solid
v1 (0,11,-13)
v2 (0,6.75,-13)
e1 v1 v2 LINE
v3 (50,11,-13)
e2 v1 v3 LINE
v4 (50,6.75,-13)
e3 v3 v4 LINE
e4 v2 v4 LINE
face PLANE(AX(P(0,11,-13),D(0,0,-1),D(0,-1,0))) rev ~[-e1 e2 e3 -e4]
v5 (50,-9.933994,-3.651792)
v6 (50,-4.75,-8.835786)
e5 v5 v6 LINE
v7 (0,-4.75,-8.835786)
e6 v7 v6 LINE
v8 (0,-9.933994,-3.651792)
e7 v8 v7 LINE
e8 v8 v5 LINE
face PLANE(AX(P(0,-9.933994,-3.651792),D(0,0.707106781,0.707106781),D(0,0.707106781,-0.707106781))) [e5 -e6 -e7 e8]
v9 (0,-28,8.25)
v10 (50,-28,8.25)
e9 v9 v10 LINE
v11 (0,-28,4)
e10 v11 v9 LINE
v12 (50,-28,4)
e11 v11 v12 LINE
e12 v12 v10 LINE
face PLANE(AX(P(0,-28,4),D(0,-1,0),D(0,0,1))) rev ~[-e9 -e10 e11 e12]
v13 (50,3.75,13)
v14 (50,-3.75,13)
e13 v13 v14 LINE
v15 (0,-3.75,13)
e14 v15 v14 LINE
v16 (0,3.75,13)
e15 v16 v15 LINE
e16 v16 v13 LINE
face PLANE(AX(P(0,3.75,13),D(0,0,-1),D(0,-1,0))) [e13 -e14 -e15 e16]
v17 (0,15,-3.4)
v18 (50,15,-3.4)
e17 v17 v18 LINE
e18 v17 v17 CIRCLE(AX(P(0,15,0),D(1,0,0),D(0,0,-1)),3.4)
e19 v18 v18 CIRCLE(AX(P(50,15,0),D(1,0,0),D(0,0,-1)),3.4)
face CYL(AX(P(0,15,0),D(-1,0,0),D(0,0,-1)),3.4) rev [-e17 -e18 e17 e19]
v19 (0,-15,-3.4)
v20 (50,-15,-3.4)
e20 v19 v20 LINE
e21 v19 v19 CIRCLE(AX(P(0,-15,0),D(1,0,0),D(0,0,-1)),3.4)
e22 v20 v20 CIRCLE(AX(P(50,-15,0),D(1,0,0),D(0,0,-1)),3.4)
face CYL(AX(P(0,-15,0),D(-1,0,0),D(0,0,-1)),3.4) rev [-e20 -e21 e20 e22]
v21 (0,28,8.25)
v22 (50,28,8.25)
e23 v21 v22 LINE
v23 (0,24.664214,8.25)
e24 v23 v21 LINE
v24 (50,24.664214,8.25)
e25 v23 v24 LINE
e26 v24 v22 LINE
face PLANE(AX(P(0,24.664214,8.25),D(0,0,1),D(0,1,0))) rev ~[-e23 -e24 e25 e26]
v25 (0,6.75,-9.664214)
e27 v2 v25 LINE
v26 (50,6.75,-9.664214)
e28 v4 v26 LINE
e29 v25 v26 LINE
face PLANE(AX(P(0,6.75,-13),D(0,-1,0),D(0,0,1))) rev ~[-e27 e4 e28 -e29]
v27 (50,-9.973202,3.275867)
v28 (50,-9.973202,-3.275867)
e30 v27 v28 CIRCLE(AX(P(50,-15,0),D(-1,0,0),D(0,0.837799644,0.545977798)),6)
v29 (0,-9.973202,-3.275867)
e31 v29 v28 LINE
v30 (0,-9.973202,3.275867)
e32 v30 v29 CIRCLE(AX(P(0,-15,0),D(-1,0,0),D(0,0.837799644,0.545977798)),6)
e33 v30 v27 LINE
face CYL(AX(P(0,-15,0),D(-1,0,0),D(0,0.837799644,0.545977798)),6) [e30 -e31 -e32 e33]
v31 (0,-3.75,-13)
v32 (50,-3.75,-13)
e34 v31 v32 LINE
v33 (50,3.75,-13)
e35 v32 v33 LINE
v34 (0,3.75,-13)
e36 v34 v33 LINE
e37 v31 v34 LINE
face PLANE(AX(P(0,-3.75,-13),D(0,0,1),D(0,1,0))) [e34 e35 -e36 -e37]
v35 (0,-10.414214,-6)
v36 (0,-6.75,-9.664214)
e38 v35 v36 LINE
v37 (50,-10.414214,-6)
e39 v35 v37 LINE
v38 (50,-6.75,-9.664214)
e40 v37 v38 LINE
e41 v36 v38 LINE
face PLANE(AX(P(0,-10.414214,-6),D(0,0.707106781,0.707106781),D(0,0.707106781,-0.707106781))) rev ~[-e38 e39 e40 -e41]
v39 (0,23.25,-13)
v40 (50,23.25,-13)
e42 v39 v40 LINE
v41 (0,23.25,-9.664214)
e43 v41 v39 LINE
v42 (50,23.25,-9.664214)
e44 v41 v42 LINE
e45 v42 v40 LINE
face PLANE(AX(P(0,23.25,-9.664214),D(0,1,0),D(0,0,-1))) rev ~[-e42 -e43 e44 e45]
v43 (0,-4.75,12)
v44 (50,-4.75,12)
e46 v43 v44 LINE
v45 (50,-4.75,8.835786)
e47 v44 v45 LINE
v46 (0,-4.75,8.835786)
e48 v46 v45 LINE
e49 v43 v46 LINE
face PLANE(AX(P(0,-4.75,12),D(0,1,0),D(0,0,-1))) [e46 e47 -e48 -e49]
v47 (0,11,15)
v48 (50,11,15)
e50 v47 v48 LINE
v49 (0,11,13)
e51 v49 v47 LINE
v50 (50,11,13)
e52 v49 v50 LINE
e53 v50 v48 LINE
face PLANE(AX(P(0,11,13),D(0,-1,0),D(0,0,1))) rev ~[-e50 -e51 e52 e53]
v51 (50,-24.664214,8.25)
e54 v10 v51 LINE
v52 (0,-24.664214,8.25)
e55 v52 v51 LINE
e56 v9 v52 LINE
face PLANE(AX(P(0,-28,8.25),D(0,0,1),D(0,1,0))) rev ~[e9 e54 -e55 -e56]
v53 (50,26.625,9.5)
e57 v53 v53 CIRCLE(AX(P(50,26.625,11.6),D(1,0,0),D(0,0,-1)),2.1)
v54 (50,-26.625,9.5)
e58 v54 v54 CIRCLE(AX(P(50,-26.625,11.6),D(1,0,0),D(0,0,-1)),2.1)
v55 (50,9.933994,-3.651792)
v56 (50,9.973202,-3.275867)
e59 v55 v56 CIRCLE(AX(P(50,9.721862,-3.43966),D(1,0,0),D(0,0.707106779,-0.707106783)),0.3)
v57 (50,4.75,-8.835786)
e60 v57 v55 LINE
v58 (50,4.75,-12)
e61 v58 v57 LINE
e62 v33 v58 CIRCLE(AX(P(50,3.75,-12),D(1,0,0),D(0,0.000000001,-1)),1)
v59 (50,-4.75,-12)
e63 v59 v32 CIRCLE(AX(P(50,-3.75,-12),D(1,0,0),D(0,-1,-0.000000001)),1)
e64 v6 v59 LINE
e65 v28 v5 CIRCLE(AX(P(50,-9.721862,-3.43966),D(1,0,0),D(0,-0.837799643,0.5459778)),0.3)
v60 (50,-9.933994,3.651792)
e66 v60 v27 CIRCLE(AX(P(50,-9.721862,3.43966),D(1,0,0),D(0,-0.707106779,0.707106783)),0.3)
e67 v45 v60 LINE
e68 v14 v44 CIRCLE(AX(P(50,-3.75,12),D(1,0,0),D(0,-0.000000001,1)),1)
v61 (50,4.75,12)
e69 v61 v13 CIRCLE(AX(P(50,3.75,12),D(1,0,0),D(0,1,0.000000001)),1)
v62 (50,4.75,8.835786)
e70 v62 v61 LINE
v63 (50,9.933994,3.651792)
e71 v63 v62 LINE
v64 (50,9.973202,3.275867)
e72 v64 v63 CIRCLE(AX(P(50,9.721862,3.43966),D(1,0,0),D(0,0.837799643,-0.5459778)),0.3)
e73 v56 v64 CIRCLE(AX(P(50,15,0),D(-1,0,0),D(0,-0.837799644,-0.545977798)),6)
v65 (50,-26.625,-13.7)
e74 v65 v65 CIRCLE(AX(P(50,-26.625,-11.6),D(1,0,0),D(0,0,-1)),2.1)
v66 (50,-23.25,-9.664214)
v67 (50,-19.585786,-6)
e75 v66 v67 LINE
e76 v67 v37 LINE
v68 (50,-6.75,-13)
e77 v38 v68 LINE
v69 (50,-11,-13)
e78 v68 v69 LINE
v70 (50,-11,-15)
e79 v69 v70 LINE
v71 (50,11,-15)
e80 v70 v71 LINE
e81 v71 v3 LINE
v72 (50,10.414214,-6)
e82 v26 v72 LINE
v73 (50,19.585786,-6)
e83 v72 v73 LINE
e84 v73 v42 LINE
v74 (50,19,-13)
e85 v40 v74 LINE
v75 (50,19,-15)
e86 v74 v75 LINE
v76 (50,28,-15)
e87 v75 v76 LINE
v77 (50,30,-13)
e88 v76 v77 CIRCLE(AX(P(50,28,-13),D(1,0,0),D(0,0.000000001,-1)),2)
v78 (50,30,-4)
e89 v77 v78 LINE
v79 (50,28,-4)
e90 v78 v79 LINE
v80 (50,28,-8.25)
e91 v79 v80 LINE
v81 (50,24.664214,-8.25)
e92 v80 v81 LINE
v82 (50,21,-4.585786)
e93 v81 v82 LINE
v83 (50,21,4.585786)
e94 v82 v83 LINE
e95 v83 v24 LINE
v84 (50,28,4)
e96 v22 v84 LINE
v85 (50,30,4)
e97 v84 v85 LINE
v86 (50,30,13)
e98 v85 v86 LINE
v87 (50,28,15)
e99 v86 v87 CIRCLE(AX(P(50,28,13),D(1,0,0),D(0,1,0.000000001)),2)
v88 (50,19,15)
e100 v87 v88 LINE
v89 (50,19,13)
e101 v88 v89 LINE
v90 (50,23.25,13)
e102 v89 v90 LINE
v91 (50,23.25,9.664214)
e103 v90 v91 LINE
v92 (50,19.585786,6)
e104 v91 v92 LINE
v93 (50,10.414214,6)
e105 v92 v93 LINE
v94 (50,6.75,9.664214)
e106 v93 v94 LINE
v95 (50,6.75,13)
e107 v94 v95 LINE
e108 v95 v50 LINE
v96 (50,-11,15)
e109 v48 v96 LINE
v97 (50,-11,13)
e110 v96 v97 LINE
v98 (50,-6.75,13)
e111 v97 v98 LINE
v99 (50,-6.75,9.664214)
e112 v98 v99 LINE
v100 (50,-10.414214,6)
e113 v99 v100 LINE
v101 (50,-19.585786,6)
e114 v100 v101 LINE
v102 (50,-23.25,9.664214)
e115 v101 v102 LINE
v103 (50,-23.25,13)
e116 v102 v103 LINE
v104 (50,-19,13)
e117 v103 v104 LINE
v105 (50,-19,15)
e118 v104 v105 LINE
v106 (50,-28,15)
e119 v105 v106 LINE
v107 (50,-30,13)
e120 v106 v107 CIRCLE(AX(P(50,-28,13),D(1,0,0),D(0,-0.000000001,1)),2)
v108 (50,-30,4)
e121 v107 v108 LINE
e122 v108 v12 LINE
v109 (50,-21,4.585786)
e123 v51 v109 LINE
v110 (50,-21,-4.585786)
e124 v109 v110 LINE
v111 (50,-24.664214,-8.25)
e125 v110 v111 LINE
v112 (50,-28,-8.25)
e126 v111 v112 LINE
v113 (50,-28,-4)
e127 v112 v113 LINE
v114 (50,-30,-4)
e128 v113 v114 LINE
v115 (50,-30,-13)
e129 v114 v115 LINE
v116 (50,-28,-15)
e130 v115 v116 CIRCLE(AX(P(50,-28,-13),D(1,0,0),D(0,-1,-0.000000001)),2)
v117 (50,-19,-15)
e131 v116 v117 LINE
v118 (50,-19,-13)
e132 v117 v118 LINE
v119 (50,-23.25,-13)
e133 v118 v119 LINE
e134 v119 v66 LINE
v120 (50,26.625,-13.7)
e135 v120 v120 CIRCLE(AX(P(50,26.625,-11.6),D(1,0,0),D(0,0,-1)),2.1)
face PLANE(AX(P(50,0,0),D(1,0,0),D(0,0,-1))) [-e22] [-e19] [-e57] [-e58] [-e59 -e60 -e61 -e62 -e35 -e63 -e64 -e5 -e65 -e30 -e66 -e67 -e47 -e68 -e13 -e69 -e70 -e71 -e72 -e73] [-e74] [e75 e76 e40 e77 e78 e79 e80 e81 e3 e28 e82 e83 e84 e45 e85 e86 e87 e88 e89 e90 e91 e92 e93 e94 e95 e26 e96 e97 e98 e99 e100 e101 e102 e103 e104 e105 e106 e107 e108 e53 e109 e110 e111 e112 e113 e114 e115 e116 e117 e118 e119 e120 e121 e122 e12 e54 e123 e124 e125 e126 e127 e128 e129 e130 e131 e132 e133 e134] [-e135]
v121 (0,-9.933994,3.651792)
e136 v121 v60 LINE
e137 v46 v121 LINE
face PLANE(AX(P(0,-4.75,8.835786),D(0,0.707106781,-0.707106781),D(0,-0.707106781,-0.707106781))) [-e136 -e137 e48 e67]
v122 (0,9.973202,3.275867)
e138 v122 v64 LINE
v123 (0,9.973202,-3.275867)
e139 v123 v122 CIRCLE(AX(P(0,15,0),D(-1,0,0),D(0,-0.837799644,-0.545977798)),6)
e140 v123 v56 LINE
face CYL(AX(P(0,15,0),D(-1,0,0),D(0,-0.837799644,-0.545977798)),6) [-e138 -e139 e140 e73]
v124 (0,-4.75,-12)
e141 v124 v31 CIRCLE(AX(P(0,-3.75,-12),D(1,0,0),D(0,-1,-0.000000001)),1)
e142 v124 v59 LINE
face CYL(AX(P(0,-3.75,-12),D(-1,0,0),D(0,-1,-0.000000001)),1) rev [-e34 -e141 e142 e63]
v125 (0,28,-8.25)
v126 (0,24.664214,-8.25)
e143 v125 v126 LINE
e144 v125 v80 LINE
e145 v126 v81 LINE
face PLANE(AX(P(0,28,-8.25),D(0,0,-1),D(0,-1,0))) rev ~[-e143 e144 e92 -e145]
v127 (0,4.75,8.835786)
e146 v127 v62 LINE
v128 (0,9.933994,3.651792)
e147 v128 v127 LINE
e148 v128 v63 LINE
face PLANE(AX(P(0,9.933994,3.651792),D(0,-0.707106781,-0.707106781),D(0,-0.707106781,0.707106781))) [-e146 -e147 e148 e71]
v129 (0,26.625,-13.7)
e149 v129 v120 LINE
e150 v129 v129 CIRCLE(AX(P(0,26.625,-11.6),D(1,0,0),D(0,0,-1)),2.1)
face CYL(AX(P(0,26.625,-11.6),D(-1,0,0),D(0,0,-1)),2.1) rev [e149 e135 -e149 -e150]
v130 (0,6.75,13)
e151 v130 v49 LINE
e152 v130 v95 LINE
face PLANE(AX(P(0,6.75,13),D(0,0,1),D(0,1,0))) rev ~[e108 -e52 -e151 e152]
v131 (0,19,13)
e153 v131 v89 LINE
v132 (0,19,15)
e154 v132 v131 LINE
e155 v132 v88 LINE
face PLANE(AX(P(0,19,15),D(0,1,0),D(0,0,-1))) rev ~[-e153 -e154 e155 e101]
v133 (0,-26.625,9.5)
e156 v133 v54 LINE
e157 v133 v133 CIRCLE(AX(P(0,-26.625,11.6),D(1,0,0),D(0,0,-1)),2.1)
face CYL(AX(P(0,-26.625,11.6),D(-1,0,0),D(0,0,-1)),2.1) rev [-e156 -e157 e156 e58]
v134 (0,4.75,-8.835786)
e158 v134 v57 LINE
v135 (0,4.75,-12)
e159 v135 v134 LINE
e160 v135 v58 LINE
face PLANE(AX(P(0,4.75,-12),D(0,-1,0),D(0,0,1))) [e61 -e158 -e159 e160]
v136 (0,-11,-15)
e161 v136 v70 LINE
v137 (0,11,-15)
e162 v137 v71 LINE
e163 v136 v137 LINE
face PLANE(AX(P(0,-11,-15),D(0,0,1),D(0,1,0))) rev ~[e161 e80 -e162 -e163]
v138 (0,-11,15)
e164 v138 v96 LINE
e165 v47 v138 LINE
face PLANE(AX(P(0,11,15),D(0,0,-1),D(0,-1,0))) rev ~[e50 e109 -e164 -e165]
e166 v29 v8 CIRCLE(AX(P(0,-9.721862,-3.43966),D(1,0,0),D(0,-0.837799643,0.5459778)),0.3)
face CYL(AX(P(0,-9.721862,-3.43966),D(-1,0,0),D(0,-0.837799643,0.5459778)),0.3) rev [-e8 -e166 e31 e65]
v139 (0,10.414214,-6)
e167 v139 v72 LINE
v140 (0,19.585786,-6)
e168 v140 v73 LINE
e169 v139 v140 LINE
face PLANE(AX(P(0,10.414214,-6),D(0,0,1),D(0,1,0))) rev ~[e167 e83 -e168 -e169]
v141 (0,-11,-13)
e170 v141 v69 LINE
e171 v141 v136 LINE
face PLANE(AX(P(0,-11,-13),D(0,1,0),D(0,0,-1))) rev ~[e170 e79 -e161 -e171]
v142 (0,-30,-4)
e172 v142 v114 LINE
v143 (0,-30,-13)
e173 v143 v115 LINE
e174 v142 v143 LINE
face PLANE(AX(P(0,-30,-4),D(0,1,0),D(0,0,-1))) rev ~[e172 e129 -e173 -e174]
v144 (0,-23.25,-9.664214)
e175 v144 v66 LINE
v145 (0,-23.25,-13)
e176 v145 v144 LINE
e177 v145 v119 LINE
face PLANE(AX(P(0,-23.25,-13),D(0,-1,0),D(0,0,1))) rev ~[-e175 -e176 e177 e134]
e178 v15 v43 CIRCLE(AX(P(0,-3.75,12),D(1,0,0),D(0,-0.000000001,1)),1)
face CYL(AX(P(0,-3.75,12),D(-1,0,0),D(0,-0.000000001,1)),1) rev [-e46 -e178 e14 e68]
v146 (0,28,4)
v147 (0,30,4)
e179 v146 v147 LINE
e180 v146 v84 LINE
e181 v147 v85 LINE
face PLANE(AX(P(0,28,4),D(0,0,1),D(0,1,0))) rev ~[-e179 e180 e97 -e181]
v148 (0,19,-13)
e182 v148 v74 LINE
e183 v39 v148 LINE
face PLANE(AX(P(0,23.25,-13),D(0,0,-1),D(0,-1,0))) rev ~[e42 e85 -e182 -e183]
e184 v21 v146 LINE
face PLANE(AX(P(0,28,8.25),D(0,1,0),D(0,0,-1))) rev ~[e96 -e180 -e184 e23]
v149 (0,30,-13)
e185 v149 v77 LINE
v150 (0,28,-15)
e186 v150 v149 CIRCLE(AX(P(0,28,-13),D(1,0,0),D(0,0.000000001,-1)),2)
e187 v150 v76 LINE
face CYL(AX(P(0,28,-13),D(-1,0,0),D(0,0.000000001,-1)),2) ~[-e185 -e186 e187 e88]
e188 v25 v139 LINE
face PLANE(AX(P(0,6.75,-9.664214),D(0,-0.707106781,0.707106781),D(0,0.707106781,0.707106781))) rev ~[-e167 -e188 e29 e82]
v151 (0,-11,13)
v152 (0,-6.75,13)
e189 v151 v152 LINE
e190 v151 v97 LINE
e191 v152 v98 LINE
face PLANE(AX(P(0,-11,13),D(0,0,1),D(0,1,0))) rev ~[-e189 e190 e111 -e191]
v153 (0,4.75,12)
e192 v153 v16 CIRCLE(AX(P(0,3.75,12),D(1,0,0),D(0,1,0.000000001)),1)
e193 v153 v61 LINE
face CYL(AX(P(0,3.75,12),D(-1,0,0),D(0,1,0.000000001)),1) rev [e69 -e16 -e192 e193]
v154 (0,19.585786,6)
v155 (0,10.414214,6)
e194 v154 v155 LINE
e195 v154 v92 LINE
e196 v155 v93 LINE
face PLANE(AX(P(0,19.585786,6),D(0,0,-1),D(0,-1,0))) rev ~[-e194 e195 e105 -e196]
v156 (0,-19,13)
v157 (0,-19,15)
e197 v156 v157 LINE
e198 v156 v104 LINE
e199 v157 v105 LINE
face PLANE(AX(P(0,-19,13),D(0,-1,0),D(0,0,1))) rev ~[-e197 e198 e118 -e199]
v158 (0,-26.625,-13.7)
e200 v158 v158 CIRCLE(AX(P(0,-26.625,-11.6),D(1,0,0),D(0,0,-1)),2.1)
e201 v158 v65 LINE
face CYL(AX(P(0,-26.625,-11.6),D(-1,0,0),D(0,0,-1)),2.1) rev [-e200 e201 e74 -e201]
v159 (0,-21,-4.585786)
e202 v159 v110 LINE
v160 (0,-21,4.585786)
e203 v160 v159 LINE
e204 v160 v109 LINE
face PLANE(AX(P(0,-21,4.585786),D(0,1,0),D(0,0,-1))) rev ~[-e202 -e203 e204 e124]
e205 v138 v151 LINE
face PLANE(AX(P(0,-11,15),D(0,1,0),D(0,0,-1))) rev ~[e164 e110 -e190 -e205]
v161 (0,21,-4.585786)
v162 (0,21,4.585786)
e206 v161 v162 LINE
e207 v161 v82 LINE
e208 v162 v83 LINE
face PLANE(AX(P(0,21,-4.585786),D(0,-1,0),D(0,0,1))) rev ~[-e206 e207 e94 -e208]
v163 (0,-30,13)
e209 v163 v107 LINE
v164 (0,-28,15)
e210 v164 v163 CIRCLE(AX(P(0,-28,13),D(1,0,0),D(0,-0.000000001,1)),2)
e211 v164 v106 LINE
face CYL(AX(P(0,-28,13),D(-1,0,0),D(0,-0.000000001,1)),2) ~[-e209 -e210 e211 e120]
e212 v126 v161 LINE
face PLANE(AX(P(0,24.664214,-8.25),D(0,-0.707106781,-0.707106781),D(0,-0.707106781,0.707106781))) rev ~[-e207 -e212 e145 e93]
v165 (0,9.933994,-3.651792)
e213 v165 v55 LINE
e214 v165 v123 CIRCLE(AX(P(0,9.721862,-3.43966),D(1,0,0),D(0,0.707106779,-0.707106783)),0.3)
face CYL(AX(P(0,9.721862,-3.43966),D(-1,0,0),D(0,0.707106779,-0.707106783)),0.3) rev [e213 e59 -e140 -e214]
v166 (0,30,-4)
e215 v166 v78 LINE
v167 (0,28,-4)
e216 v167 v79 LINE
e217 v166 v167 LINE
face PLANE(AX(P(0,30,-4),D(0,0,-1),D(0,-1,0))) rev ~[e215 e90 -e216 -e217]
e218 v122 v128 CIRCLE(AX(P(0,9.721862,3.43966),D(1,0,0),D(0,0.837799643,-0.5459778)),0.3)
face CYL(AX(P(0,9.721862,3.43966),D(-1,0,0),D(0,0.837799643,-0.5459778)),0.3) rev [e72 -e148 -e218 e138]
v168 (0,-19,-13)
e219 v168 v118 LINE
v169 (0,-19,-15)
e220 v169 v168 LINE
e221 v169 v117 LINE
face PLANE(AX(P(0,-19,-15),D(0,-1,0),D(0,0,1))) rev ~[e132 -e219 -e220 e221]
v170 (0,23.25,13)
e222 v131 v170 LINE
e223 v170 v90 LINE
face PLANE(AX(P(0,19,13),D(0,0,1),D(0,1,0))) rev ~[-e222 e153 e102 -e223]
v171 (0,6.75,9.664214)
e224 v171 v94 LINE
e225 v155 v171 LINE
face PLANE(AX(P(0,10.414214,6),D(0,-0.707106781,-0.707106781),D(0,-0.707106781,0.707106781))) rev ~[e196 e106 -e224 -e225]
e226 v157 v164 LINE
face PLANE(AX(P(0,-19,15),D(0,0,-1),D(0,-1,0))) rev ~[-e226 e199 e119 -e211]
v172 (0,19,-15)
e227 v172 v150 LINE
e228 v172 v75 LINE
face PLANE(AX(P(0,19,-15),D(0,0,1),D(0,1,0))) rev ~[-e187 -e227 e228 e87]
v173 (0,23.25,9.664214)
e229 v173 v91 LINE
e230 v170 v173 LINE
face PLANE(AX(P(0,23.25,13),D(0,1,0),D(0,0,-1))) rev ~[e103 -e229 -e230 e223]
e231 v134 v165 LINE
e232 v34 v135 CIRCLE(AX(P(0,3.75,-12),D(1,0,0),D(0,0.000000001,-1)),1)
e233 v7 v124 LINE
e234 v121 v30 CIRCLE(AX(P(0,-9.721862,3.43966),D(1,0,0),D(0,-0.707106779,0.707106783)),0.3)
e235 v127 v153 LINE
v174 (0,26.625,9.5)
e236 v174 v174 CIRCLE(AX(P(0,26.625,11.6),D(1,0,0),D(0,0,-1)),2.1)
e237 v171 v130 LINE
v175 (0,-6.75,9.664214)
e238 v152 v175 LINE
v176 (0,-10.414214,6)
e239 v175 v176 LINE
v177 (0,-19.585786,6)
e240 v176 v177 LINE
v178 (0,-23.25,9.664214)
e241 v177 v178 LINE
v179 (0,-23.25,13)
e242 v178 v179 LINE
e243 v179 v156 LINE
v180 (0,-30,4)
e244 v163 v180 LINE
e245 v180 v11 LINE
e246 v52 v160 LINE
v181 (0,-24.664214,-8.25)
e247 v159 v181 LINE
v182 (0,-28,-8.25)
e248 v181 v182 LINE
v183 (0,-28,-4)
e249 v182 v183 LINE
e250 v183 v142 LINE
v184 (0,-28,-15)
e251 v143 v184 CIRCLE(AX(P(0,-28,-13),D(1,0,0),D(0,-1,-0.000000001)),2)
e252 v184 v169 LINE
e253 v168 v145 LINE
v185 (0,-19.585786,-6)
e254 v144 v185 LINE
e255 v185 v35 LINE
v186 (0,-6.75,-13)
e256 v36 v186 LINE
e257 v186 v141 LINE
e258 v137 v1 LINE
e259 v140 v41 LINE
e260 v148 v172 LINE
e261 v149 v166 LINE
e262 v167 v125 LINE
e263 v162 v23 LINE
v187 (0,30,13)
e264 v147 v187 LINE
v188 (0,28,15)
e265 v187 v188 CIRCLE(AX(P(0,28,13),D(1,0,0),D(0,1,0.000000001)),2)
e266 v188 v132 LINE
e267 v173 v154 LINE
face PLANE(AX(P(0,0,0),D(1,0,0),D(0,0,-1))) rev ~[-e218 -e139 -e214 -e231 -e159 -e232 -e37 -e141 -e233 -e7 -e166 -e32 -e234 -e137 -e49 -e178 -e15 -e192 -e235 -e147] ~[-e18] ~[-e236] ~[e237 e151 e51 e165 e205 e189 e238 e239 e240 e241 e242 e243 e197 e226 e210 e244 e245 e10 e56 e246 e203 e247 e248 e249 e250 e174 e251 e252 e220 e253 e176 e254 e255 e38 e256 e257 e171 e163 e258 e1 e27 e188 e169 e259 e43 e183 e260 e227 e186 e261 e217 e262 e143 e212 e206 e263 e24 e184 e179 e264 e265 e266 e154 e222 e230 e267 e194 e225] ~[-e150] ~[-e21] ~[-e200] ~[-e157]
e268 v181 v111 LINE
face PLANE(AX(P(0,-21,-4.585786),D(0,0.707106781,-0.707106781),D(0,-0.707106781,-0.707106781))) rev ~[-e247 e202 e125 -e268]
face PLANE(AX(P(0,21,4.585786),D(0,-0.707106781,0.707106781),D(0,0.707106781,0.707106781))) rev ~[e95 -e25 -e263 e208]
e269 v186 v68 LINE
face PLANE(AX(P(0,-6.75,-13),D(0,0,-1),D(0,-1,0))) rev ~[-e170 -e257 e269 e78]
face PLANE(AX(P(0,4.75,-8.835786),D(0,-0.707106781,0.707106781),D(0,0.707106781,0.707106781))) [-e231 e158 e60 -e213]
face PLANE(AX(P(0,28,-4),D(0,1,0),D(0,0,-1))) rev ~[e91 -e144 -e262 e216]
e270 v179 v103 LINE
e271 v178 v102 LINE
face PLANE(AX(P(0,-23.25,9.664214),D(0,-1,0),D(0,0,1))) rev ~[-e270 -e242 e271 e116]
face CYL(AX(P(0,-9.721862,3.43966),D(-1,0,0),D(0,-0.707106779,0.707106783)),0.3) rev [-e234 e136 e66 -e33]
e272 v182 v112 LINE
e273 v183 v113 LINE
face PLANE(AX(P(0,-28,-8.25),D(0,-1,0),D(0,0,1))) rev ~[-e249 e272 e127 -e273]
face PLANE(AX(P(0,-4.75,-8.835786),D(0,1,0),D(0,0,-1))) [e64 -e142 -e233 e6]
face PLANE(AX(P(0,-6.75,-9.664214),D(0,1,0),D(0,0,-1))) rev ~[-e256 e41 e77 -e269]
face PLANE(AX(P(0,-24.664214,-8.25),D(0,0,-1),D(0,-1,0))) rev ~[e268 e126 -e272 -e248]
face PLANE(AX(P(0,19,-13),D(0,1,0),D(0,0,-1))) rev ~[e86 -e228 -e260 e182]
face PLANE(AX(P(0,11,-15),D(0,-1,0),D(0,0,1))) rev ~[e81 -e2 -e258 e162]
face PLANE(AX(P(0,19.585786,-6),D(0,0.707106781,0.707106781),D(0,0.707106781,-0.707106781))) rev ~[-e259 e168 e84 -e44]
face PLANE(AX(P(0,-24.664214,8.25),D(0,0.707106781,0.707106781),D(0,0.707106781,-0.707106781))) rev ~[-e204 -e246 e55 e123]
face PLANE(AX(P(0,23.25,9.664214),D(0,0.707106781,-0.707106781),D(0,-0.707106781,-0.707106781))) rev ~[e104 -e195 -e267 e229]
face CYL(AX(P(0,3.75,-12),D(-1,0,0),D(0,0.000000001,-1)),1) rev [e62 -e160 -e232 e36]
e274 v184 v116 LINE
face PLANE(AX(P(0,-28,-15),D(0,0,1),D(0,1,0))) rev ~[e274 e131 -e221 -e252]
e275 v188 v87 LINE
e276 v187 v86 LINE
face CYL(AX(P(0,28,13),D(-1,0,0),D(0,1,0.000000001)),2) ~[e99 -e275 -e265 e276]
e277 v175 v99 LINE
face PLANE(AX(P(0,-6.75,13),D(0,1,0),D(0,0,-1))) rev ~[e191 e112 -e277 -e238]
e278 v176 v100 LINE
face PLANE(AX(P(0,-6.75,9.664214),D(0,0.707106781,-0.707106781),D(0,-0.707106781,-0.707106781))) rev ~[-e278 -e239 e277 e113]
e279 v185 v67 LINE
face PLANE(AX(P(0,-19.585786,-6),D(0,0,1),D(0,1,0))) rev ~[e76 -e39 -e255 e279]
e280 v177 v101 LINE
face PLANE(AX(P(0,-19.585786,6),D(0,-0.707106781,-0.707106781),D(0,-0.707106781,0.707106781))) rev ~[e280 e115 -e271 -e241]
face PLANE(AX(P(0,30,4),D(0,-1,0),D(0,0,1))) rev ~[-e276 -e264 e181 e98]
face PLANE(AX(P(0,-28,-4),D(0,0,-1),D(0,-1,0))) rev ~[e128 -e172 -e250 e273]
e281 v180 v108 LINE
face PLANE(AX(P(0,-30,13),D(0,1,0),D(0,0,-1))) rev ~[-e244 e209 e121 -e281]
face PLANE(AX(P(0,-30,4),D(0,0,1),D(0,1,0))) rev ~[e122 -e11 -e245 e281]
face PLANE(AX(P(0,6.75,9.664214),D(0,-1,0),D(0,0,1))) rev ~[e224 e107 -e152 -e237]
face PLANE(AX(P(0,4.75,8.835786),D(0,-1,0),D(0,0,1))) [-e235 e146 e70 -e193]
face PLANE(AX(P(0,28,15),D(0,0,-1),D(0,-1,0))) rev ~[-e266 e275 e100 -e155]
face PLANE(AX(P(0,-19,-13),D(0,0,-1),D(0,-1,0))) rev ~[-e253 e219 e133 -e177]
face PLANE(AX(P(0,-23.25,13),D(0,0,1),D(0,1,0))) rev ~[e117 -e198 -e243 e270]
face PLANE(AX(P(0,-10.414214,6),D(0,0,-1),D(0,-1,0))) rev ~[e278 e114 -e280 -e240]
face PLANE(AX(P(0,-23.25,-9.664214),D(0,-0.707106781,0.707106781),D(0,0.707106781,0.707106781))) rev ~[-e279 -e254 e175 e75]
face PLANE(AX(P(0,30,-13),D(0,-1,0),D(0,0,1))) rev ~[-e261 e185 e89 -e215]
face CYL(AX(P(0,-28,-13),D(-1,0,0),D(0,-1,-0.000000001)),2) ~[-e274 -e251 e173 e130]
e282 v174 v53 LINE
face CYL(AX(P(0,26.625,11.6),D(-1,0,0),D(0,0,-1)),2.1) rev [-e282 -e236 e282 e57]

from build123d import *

# Parameters (mm, degrees)
SKETCH1_R           = 2.1
SKETCH1_R_2         = 3.4
BOSS_EXTRUDE1_DEPTH = 50


with BuildPart() as part:
    # Sketch1 → Boss-Extrude1 (new body)
    with BuildSketch(Plane(origin=(0, 0, 0), x_dir=(0, 0, -1), z_dir=(1, 0, 0))):
        with BuildLine():
            Line((-15, 28), (-15, 19))
            Line((-15, 19), (-13, 19))
            Line((-13, 19), (-13, 23.25))
            Line((-13, 23.25), (-9.664213562, 23.25))
            Line((-9.664213562, 23.25), (-6, 19.585786438))
            Line((-6, 19.585786438), (-6, 10.414213562))
            Line((-6, 10.414213562), (-9.664213562, 6.75))
            Line((-9.664213562, 6.75), (-13, 6.75))
            Line((-13, 6.75), (-13, 11))
            Line((-13, 11), (-15, 11))
            Line((-15, 11), (-15, -11))
            Line((-15, -11), (-13, -11))
            Line((-13, -11), (-13, -6.75))
            Line((-13, -6.75), (-9.664213562, -6.75))
            Line((-9.664213562, -6.75), (-6, -10.414213562))
            Line((-6, -10.414213562), (-6, -19.585786438))
            Line((-6, -19.585786438), (-9.664213562, -23.25))
            Line((-9.664213562, -23.25), (-13, -23.25))
            Line((-13, -23.25), (-13, -19))
            Line((-13, -19), (-15, -19))
            Line((-15, -19), (-15, -28))
            ThreePointArc((-15, -28), (-14.414213562, -29.414213562), (-13, -30))
            Line((-13, -30), (-4, -30))
            Line((-4, -30), (-4, -28))
            Line((-4, -28), (-8.25, -28))
            Line((-8.25, -28), (-8.25, -24.664213562))
            Line((-8.25, -24.664213562), (-4.585786438, -21))
            Line((-4.585786438, -21), (4.585786438, -21))
            Line((4.585786438, -21), (8.25, -24.664213562))
            Line((8.25, -24.664213562), (8.25, -28))
            Line((8.25, -28), (4, -28))
            Line((4, -28), (4, -30))
            Line((4, -30), (13, -30))
            ThreePointArc((13, -30), (14.414213562, -29.414213562), (15, -28))
            Line((15, -28), (15, -19))
            Line((15, -19), (13, -19))
            Line((13, -19), (13, -23.25))
            Line((13, -23.25), (9.664213562, -23.25))
            Line((9.664213562, -23.25), (6, -19.585786438))
            Line((6, -19.585786438), (6, -10.414213562))
            Line((6, -10.414213562), (9.664213562, -6.75))
            Line((9.664213562, -6.75), (13, -6.75))
            Line((13, -6.75), (13, -11))
            Line((13, -11), (15, -11))
            Line((15, -11), (15, 11))
            Line((15, 11), (13, 11))
            Line((13, 11), (13, 6.75))
            Line((13, 6.75), (9.664213562, 6.75))
            Line((9.664213562, 6.75), (6, 10.414213562))
            Line((6, 10.414213562), (6, 19.585786438))
            Line((6, 19.585786438), (9.664213562, 23.25))
            Line((9.664213562, 23.25), (13, 23.25))
            Line((13, 23.25), (13, 19))
            Line((13, 19), (15, 19))
            Line((15, 19), (15, 28))
            ThreePointArc((15, 28), (14.414213562, 29.414213562), (13, 30))
            Line((13, 30), (4, 30))
            Line((4, 30), (4, 28))
            Line((4, 28), (8.25, 28))
            Line((8.25, 28), (8.25, 24.664213562))
            Line((8.25, 24.664213562), (4.585786438, 21))
            Line((4.585786438, 21), (-4.585786438, 21))
            Line((-4.585786438, 21), (-8.25, 24.664213562))
            Line((-8.25, 24.664213562), (-8.25, 28))
            Line((-8.25, 28), (-4, 28))
            Line((-4, 28), (-4, 30))
            Line((-4, 30), (-13, 30))
            ThreePointArc((-13, 30), (-14.414213562, 29.414213562), (-15, 28))
        make_face()
        with Locations((-11.6, 26.625)):
            Circle(SKETCH1_R, mode=Mode.SUBTRACT)
        with Locations((0, 15)):
            Circle(SKETCH1_R_2, mode=Mode.SUBTRACT)
        with Locations((11.6, 26.625)):
            Circle(SKETCH1_R, mode=Mode.SUBTRACT)
        with Locations((0, -15)):
            Circle(SKETCH1_R_2, mode=Mode.SUBTRACT)
        with Locations((-11.6, -26.625)):
            Circle(SKETCH1_R, mode=Mode.SUBTRACT)
        with Locations((11.6, -26.625)):
            Circle(SKETCH1_R, mode=Mode.SUBTRACT)
        with BuildLine():
            Line((-8.835786438, 4.75), (-12, 4.75))
            ThreePointArc((-12, 4.75), (-12.707106781, 4.457106781), (-13, 3.75))
            Line((-13, 3.75), (-13, -3.75))
            ThreePointArc((-13, -3.75), (-12.707106781, -4.457106781), (-12, -4.75))
            Line((-12, -4.75), (-8.835786438, -4.75))
            Line((-8.835786438, -4.75), (-3.651792162, -9.933994275))
            ThreePointArc((-3.651792162, -9.933994275), (-3.470780401, -10.020243756), (-3.275866789, -9.973202134))
            ThreePointArc((-3.275866789, -9.973202134), (0, -9), (3.275866789, -9.973202134))
            ThreePointArc((3.275866789, -9.973202134), (3.470780401, -10.020243756), (3.651792162, -9.933994275))
            Line((3.651792162, -9.933994275), (8.835786438, -4.75))
            Line((8.835786438, -4.75), (12, -4.75))
            ThreePointArc((12, -4.75), (12.707106781, -4.457106781), (13, -3.75))
            Line((13, -3.75), (13, 3.75))
            ThreePointArc((13, 3.75), (12.707106781, 4.457106781), (12, 4.75))
            Line((12, 4.75), (8.835786438, 4.75))
            Line((8.835786438, 4.75), (3.651792162, 9.933994275))
            ThreePointArc((3.651792162, 9.933994275), (3.470780401, 10.020243756), (3.275866789, 9.973202134))
            ThreePointArc((3.275866789, 9.973202134), (0, 9), (-3.275866789, 9.973202134))
            ThreePointArc((-3.275866789, 9.973202134), (-3.470780401, 10.020243756), (-3.651792162, 9.933994275))
            Line((-3.651792162, 9.933994275), (-8.835786438, 4.75))
        make_face(mode=Mode.SUBTRACT)
    extrude(amount=BOSS_EXTRUDE1_DEPTH)


solid = part.part
